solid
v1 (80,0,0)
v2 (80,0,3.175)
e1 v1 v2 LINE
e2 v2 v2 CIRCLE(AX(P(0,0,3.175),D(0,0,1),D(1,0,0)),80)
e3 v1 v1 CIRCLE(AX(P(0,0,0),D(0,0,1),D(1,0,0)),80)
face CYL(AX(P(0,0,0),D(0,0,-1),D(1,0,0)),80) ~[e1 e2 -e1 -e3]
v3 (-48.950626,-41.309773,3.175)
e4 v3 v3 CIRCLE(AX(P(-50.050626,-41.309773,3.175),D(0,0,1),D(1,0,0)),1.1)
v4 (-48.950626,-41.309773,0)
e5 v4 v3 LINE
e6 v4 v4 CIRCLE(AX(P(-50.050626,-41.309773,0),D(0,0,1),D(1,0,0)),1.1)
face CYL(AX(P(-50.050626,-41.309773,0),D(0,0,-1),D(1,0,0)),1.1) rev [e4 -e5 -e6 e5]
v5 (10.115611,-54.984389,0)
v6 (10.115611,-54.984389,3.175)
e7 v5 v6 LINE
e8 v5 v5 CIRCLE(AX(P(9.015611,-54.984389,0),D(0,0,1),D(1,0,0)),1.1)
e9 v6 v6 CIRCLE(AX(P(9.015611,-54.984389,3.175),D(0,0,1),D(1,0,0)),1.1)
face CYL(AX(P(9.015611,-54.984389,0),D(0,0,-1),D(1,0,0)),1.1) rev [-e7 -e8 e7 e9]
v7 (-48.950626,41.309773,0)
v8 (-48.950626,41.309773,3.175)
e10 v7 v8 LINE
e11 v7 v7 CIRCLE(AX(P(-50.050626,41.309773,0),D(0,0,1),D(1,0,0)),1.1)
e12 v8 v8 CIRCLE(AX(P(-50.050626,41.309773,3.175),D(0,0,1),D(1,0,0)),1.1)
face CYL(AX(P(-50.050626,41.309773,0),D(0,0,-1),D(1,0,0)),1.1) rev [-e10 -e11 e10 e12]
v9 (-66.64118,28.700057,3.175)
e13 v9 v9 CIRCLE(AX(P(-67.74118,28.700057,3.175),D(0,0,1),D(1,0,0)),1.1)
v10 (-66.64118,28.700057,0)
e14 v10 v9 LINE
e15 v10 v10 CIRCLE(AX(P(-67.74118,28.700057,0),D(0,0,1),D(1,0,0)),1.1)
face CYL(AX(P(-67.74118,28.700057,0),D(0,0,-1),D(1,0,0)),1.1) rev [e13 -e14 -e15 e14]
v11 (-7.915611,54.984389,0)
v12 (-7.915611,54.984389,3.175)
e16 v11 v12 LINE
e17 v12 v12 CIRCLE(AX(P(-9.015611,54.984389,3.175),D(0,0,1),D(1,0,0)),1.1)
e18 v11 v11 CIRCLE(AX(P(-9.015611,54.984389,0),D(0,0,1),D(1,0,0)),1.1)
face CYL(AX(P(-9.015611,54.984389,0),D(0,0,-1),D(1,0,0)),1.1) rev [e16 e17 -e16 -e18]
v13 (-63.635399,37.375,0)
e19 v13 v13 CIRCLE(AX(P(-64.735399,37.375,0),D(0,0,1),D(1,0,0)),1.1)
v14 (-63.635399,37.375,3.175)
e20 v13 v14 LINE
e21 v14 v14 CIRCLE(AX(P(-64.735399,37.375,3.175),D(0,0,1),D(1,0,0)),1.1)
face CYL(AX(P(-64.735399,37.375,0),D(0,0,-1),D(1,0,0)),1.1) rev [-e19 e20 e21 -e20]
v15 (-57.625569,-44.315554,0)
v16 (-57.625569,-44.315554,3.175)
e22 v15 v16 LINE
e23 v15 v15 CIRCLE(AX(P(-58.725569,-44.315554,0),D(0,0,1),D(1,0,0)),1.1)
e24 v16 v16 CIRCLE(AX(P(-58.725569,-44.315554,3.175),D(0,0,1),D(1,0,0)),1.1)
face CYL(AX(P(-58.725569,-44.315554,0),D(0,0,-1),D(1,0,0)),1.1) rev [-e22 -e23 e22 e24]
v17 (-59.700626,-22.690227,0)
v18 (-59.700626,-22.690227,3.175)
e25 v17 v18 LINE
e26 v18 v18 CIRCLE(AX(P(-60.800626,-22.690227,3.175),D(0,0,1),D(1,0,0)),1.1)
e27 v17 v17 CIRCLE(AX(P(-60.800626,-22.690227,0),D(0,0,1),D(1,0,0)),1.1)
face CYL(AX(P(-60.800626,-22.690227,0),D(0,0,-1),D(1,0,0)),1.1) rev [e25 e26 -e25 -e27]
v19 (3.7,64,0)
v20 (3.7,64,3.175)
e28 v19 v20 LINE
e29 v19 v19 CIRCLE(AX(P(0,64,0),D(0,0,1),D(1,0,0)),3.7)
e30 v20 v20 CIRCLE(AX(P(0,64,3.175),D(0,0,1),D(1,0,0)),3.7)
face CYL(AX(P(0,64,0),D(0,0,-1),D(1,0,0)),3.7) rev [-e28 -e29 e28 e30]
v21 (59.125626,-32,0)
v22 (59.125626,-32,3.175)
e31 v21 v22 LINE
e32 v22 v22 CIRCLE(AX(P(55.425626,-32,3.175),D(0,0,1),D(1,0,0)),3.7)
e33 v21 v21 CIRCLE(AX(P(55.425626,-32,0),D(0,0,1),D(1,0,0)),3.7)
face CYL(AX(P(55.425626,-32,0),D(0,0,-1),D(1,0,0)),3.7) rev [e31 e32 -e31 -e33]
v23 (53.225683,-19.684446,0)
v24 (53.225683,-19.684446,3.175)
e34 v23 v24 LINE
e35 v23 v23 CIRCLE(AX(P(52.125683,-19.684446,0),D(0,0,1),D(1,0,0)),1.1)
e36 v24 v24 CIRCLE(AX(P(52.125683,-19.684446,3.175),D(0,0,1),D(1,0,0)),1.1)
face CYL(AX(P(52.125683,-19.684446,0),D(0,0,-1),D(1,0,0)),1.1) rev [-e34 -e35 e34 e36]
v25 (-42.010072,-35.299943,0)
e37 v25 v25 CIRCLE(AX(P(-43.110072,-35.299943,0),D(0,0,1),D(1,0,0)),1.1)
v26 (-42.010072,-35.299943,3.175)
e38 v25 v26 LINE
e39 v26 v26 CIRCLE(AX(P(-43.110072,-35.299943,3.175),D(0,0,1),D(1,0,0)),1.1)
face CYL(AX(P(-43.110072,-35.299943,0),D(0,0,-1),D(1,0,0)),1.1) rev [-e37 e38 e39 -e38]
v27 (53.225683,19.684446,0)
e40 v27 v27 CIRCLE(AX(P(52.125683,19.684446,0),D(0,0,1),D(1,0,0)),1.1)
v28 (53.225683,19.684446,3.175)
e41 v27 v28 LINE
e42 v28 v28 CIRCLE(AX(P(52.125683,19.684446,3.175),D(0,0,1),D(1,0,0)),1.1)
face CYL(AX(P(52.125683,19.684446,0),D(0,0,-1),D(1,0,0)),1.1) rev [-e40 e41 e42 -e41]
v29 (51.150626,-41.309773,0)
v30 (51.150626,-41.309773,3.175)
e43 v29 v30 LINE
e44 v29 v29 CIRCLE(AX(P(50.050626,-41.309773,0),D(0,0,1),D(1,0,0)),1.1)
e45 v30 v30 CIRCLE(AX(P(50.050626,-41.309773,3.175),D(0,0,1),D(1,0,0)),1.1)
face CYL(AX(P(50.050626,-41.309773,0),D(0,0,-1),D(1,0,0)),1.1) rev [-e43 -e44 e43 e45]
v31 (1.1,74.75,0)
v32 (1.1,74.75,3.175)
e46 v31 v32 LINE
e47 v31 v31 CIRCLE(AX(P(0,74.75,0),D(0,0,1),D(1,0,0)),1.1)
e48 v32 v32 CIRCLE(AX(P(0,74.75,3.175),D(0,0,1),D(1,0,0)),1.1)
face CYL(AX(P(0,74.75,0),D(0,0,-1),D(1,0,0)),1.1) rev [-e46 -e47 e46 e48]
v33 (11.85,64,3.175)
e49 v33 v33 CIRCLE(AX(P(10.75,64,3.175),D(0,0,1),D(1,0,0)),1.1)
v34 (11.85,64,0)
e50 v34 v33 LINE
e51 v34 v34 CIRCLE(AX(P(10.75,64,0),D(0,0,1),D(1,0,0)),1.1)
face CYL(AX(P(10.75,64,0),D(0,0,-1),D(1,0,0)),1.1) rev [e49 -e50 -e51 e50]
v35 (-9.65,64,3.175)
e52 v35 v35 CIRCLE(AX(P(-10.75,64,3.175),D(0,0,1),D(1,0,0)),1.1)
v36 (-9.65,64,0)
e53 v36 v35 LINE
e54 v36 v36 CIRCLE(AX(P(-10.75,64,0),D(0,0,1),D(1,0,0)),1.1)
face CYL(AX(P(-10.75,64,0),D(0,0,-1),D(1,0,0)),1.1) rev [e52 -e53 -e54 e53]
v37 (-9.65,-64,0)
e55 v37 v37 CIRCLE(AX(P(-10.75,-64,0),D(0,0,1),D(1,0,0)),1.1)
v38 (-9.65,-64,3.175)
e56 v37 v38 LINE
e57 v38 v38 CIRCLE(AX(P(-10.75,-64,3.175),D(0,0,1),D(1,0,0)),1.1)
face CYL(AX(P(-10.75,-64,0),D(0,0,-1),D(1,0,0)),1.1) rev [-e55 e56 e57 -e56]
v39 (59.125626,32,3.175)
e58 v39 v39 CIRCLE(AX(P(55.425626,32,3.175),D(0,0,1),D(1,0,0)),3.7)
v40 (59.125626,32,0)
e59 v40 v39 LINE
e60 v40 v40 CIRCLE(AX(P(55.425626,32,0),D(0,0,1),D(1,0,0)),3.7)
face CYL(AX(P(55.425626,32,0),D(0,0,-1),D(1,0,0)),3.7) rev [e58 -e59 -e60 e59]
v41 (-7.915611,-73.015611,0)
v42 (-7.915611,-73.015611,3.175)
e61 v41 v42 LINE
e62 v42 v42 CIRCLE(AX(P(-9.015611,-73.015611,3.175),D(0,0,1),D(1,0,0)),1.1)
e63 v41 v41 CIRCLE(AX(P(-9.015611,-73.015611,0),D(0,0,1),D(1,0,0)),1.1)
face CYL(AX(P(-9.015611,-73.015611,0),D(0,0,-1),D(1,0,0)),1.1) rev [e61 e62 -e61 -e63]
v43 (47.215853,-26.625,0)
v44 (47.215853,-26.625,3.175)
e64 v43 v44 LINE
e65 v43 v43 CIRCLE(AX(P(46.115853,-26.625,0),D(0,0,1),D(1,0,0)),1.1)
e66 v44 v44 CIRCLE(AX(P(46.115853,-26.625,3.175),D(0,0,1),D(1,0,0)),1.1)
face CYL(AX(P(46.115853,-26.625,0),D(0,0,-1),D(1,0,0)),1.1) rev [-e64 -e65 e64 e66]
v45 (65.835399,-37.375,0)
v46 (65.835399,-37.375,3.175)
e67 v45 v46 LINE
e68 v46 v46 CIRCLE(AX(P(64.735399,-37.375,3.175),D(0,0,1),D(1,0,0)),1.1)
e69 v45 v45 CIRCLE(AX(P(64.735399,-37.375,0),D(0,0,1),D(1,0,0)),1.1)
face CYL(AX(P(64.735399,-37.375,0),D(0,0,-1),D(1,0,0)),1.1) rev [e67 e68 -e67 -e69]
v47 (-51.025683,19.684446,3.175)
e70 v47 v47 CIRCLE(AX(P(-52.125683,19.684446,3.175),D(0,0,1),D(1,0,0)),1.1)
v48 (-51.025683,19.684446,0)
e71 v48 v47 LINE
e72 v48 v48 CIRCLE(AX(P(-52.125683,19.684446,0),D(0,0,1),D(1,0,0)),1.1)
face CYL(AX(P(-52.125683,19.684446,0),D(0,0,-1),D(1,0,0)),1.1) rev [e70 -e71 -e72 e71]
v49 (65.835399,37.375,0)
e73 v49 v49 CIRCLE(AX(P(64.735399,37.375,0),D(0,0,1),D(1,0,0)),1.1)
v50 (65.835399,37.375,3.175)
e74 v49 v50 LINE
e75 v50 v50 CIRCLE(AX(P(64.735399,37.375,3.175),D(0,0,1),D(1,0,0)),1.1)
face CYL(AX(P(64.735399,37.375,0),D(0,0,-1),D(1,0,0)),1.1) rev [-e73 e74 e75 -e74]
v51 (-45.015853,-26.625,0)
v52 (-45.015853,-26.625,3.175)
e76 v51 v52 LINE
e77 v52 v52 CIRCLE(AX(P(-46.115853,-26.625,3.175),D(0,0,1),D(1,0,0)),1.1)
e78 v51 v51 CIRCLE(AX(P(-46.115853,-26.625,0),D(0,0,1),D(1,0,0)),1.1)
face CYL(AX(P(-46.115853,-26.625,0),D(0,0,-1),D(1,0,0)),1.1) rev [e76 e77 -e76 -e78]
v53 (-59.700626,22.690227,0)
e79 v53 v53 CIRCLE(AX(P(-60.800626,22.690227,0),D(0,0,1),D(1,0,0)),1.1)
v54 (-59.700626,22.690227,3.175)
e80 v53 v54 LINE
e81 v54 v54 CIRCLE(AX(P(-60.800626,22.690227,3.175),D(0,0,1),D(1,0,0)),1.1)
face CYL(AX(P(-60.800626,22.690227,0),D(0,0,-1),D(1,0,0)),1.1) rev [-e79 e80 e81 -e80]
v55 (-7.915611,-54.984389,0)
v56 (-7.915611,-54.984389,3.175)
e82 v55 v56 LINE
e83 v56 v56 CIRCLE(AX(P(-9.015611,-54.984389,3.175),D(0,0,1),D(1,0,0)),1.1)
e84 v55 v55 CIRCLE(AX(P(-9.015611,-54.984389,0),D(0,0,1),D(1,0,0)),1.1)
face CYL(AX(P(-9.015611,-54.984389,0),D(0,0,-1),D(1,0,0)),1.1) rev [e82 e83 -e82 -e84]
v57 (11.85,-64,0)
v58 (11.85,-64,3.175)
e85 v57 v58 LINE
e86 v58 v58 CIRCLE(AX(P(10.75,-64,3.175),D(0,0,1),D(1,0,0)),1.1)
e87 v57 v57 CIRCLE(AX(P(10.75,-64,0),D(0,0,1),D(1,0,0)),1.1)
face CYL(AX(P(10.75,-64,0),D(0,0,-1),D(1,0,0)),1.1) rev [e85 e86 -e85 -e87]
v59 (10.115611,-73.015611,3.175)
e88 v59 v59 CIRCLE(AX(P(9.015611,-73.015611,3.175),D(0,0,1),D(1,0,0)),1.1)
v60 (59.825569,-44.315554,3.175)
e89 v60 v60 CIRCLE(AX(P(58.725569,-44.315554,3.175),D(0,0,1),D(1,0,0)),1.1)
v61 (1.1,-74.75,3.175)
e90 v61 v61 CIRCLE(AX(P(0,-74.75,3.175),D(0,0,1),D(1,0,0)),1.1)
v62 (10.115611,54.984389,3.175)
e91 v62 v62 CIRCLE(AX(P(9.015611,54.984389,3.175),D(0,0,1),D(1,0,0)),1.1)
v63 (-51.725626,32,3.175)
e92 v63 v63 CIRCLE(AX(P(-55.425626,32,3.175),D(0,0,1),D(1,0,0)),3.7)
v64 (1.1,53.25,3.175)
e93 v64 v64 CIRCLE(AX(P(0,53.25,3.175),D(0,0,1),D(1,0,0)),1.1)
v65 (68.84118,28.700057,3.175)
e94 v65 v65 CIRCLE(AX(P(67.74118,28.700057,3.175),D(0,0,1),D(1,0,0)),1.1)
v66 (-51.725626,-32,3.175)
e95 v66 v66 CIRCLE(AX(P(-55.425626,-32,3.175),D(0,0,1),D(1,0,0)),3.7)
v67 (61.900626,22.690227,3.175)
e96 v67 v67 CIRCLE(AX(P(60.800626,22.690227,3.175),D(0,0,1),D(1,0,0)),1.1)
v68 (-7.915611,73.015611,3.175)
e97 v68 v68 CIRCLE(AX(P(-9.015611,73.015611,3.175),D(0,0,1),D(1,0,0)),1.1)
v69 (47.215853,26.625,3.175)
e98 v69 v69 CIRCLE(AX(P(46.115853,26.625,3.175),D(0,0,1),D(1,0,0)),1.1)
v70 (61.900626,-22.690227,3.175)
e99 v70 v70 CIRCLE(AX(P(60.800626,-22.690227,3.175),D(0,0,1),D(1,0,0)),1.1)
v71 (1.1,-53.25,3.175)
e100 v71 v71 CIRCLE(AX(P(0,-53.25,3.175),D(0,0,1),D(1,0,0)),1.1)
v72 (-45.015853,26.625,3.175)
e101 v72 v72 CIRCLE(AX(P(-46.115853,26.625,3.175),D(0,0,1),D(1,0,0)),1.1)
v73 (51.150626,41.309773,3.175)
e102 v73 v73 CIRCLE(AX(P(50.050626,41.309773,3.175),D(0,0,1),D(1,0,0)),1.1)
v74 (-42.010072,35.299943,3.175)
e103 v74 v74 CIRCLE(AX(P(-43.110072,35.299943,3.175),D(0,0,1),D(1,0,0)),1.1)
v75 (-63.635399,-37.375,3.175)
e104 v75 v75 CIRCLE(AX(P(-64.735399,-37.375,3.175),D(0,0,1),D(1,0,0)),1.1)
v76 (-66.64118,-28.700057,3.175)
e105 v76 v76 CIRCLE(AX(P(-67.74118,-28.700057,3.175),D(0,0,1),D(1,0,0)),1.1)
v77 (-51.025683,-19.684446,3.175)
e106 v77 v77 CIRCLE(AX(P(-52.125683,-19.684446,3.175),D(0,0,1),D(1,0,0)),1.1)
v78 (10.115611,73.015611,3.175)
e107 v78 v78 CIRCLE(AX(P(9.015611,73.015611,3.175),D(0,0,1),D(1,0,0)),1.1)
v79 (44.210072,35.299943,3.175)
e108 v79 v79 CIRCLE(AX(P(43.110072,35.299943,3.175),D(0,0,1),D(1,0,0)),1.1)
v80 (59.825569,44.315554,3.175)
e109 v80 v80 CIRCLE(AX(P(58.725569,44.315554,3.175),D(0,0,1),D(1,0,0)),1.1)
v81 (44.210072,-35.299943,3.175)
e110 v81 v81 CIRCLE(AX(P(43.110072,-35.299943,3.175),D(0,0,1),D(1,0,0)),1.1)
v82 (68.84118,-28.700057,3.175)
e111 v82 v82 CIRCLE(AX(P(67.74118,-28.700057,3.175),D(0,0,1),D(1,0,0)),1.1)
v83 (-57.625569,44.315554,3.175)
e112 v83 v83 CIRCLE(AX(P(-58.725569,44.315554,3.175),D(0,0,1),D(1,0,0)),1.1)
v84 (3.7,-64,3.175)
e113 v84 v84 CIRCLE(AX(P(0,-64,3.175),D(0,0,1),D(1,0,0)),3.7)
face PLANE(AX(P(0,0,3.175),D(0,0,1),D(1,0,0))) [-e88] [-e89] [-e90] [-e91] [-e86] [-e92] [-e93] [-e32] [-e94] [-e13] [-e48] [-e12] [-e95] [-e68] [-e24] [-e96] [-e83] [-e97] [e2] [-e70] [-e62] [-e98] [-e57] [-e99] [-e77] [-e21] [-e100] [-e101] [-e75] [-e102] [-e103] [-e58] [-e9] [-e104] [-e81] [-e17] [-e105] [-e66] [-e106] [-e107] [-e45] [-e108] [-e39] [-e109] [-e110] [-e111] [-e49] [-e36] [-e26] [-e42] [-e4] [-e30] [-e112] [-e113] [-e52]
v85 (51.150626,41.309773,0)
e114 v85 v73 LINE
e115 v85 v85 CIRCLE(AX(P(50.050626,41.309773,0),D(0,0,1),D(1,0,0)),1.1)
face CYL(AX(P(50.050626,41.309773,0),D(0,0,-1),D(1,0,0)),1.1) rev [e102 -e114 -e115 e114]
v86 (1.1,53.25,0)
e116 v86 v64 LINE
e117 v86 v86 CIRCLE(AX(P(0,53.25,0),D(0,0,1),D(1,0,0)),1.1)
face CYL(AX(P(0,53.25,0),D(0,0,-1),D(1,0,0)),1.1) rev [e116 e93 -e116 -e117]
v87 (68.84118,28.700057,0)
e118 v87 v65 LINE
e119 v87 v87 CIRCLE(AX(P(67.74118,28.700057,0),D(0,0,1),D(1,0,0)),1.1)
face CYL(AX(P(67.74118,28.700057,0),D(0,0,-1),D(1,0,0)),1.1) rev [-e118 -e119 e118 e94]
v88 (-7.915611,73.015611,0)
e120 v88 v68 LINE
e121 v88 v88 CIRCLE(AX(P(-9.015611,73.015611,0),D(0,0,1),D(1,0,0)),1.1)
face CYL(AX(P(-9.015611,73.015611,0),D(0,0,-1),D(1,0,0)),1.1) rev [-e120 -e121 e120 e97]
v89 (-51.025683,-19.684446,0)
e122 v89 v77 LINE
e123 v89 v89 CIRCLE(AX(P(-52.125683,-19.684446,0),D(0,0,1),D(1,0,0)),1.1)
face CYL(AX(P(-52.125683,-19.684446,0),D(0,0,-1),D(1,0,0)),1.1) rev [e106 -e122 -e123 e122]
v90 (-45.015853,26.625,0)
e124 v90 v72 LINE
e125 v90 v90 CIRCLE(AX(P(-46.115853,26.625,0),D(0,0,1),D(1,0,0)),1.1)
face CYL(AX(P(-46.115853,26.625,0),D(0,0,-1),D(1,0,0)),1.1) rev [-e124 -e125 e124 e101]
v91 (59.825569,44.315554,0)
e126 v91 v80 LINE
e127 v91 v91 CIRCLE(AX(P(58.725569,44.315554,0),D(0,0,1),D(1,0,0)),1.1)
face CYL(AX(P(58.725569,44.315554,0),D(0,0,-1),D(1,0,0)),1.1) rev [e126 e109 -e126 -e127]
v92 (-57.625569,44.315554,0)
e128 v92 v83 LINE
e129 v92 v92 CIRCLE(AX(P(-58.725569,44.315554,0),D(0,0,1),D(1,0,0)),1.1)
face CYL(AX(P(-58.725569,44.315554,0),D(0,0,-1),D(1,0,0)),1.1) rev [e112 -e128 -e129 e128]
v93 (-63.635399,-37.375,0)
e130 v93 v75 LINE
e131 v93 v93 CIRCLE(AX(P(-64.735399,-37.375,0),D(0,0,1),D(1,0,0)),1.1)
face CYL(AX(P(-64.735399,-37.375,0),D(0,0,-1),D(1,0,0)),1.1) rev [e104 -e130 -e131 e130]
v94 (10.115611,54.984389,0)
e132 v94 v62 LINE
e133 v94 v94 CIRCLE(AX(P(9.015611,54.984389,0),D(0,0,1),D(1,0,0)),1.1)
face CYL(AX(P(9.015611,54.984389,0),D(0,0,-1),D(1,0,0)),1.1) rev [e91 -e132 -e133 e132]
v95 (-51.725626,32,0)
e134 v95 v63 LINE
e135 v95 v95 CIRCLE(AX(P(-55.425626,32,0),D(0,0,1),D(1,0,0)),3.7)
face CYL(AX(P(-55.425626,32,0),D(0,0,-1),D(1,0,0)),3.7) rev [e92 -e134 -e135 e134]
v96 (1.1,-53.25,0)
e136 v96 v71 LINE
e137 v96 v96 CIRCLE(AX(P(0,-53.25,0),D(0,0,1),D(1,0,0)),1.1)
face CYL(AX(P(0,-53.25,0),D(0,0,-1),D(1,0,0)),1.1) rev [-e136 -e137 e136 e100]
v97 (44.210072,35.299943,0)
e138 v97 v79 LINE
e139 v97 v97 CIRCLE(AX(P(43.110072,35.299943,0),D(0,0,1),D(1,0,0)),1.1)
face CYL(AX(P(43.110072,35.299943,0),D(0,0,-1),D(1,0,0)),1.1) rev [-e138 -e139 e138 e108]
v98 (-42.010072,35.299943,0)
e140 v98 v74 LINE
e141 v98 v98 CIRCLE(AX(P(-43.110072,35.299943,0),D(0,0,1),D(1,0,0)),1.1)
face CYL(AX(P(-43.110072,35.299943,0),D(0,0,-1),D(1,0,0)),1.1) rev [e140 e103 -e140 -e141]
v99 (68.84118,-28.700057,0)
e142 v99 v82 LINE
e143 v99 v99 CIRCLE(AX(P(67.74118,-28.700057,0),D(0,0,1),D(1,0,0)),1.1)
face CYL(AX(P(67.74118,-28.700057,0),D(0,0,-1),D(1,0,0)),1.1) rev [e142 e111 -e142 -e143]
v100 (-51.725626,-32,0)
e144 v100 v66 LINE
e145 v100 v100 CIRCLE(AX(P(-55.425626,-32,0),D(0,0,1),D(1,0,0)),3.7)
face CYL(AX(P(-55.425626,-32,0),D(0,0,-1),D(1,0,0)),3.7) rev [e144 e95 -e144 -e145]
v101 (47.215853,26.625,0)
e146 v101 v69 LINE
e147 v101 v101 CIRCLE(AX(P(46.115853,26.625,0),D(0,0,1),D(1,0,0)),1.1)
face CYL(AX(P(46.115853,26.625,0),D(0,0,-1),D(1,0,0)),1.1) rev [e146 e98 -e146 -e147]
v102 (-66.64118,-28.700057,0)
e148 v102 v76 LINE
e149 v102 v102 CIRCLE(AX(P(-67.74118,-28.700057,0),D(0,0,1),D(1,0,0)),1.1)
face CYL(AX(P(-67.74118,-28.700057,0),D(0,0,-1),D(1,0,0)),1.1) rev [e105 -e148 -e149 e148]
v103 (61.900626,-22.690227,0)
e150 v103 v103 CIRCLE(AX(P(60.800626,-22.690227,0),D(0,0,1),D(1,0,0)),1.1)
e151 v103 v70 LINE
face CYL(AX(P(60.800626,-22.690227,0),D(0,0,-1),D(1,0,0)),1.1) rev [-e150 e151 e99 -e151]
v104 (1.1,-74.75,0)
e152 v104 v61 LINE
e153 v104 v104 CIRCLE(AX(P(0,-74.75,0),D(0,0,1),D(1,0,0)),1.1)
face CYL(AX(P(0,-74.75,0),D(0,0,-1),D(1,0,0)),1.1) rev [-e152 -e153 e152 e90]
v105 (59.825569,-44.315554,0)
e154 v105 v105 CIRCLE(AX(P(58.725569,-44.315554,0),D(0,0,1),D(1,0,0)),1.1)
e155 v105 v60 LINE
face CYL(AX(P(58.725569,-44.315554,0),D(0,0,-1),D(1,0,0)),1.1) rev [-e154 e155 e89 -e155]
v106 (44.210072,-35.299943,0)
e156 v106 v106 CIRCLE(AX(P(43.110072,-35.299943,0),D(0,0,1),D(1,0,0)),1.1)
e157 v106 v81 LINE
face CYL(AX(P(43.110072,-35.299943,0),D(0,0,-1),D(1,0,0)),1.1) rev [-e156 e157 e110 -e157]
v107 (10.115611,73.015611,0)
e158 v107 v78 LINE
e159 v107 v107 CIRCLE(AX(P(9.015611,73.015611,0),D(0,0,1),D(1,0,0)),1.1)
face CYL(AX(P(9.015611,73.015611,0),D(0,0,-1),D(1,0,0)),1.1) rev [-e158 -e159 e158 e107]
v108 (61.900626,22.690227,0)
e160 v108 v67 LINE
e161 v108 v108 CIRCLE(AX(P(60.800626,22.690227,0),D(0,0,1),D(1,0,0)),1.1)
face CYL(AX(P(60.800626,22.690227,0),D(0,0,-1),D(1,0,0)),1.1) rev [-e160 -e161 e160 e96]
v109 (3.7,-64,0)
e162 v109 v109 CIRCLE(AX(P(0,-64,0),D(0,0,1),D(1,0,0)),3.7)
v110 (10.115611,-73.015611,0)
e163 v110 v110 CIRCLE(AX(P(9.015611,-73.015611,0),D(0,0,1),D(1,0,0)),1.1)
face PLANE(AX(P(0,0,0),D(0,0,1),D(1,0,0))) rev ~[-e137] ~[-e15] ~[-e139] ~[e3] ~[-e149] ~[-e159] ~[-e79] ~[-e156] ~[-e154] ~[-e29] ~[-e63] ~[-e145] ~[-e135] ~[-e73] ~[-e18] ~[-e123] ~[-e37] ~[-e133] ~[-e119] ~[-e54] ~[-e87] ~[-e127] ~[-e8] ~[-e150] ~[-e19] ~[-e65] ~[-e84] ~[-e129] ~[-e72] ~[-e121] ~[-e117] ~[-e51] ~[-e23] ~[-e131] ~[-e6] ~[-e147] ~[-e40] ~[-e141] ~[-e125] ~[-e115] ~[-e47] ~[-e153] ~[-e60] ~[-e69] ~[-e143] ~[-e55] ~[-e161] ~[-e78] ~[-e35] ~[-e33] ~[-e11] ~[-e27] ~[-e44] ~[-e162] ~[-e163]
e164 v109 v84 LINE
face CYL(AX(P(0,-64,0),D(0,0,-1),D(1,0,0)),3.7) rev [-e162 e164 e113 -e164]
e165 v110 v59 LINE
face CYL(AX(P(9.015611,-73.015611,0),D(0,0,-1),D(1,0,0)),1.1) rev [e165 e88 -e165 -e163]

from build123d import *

# Parameters (mm, degrees)
SKETCH1_R           = 80
SKETCH1_R_2         = 1.1
SKETCH1_R_3         = 3.7
BOSS_EXTRUDE2_DEPTH = 3.175


with BuildPart() as part:
    # Sketch1 → Boss-Extrude2 (new body)
    with BuildSketch(Plane.XY):
        Circle(SKETCH1_R)
        with Locations((58.725568667, 44.315554285)):
            Circle(SKETCH1_R_2, mode=Mode.SUBTRACT)
        with Locations((67.741180127, 28.700057175)):
            Circle(SKETCH1_R_2, mode=Mode.SUBTRACT)
        with Locations((64.735398933, 37.375)):
            Circle(SKETCH1_R_2, mode=Mode.SUBTRACT)
        with Locations((50.050625842, 41.309773091)):
            Circle(SKETCH1_R_2, mode=Mode.SUBTRACT)
        with Locations((52.125683017, 19.684445715)):
            Circle(SKETCH1_R_2, mode=Mode.SUBTRACT)
        with Locations((43.110071557, 35.299942825)):
            Circle(SKETCH1_R_2, mode=Mode.SUBTRACT)
        with Locations((60.800625842, 22.690226909)):
            Circle(SKETCH1_R_2, mode=Mode.SUBTRACT)
        with Locations((46.115852752, 26.625)):
            Circle(SKETCH1_R_2, mode=Mode.SUBTRACT)
        with Locations((55.425625842, 32)):
            Circle(SKETCH1_R_3, mode=Mode.SUBTRACT)
        with Locations((-10.75, 64)):
            Circle(SKETCH1_R_2, mode=Mode.SUBTRACT)
        with Locations((-9.01561146, 73.01561146)):
            Circle(SKETCH1_R_2, mode=Mode.SUBTRACT)
        with Locations((9.01561146, 73.01561146)):
            Circle(SKETCH1_R_2, mode=Mode.SUBTRACT)
        with Locations((9.01561146, 54.98438854)):
            Circle(SKETCH1_R_2, mode=Mode.SUBTRACT)
        with Locations((-9.01561146, 54.98438854)):
            Circle(SKETCH1_R_2, mode=Mode.SUBTRACT)
        with Locations((0, 74.75)):
            Circle(SKETCH1_R_2, mode=Mode.SUBTRACT)
        with Locations((10.75, 64)):
            Circle(SKETCH1_R_2, mode=Mode.SUBTRACT)
        with Locations((0, 53.25)):
            Circle(SKETCH1_R_2, mode=Mode.SUBTRACT)
        with Locations((0, 64)):
            Circle(SKETCH1_R_3, mode=Mode.SUBTRACT)
        with Locations((67.741180127, -28.700057175)):
            Circle(SKETCH1_R_2, mode=Mode.SUBTRACT)
        with Locations((58.725568667, -44.315554285)):
            Circle(SKETCH1_R_2, mode=Mode.SUBTRACT)
        with Locations((64.735398933, -37.375)):
            Circle(SKETCH1_R_2, mode=Mode.SUBTRACT)
        with Locations((60.800625842, -22.690226909)):
            Circle(SKETCH1_R_2, mode=Mode.SUBTRACT)
        with Locations((43.110071557, -35.299942825)):
            Circle(SKETCH1_R_2, mode=Mode.SUBTRACT)
        with Locations((52.125683017, -19.684445715)):
            Circle(SKETCH1_R_2, mode=Mode.SUBTRACT)
        with Locations((50.050625842, -41.309773091)):
            Circle(SKETCH1_R_2, mode=Mode.SUBTRACT)
        with Locations((46.115852752, -26.625)):
            Circle(SKETCH1_R_2, mode=Mode.SUBTRACT)
        with Locations((55.425625842, -32)):
            Circle(SKETCH1_R_3, mode=Mode.SUBTRACT)
        with Locations((9.01561146, -73.01561146)):
            Circle(SKETCH1_R_2, mode=Mode.SUBTRACT)
        with Locations((-9.01561146, -73.01561146)):
            Circle(SKETCH1_R_2, mode=Mode.SUBTRACT)
        with Locations((0, -74.75)):
            Circle(SKETCH1_R_2, mode=Mode.SUBTRACT)
        with Locations((10.75, -64)):
            Circle(SKETCH1_R_2, mode=Mode.SUBTRACT)
        with Locations((-9.01561146, -54.98438854)):
            Circle(SKETCH1_R_2, mode=Mode.SUBTRACT)
        with Locations((9.01561146, -54.98438854)):
            Circle(SKETCH1_R_2, mode=Mode.SUBTRACT)
        with Locations((-10.75, -64)):
            Circle(SKETCH1_R_2, mode=Mode.SUBTRACT)
        with Locations((0, -53.25)):
            Circle(SKETCH1_R_2, mode=Mode.SUBTRACT)
        with Locations((0, -64)):
            Circle(SKETCH1_R_3, mode=Mode.SUBTRACT)
        with Locations((-58.725568667, -44.315554285)):
            Circle(SKETCH1_R_2, mode=Mode.SUBTRACT)
        with Locations((-67.741180127, -28.700057175)):
            Circle(SKETCH1_R_2, mode=Mode.SUBTRACT)
        with Locations((-64.735398933, -37.375)):
            Circle(SKETCH1_R_2, mode=Mode.SUBTRACT)
        with Locations((-50.050625842, -41.309773091)):
            Circle(SKETCH1_R_2, mode=Mode.SUBTRACT)
        with Locations((-52.125683017, -19.684445715)):
            Circle(SKETCH1_R_2, mode=Mode.SUBTRACT)
        with Locations((-43.110071557, -35.299942825)):
            Circle(SKETCH1_R_2, mode=Mode.SUBTRACT)
        with Locations((-60.800625842, -22.690226909)):
            Circle(SKETCH1_R_2, mode=Mode.SUBTRACT)
        with Locations((-46.115852752, -26.625)):
            Circle(SKETCH1_R_2, mode=Mode.SUBTRACT)
        with Locations((-55.425625842, -32)):
            Circle(SKETCH1_R_3, mode=Mode.SUBTRACT)
        with Locations((-67.741180127, 28.700057175)):
            Circle(SKETCH1_R_2, mode=Mode.SUBTRACT)
        with Locations((-58.725568667, 44.315554285)):
            Circle(SKETCH1_R_2, mode=Mode.SUBTRACT)
        with Locations((-64.735398933, 37.375)):
            Circle(SKETCH1_R_2, mode=Mode.SUBTRACT)
        with Locations((-60.800625842, 22.690226909)):
            Circle(SKETCH1_R_2, mode=Mode.SUBTRACT)
        with Locations((-43.110071557, 35.299942825)):
            Circle(SKETCH1_R_2, mode=Mode.SUBTRACT)
        with Locations((-52.125683017, 19.684445715)):
            Circle(SKETCH1_R_2, mode=Mode.SUBTRACT)
        with Locations((-50.050625842, 41.309773091)):
            Circle(SKETCH1_R_2, mode=Mode.SUBTRACT)
        with Locations((-46.115852752, 26.625)):
            Circle(SKETCH1_R_2, mode=Mode.SUBTRACT)
        with Locations((-55.425625842, 32)):
            Circle(SKETCH1_R_3, mode=Mode.SUBTRACT)
    extrude(amount=BOSS_EXTRUDE2_DEPTH)


solid = part.part
